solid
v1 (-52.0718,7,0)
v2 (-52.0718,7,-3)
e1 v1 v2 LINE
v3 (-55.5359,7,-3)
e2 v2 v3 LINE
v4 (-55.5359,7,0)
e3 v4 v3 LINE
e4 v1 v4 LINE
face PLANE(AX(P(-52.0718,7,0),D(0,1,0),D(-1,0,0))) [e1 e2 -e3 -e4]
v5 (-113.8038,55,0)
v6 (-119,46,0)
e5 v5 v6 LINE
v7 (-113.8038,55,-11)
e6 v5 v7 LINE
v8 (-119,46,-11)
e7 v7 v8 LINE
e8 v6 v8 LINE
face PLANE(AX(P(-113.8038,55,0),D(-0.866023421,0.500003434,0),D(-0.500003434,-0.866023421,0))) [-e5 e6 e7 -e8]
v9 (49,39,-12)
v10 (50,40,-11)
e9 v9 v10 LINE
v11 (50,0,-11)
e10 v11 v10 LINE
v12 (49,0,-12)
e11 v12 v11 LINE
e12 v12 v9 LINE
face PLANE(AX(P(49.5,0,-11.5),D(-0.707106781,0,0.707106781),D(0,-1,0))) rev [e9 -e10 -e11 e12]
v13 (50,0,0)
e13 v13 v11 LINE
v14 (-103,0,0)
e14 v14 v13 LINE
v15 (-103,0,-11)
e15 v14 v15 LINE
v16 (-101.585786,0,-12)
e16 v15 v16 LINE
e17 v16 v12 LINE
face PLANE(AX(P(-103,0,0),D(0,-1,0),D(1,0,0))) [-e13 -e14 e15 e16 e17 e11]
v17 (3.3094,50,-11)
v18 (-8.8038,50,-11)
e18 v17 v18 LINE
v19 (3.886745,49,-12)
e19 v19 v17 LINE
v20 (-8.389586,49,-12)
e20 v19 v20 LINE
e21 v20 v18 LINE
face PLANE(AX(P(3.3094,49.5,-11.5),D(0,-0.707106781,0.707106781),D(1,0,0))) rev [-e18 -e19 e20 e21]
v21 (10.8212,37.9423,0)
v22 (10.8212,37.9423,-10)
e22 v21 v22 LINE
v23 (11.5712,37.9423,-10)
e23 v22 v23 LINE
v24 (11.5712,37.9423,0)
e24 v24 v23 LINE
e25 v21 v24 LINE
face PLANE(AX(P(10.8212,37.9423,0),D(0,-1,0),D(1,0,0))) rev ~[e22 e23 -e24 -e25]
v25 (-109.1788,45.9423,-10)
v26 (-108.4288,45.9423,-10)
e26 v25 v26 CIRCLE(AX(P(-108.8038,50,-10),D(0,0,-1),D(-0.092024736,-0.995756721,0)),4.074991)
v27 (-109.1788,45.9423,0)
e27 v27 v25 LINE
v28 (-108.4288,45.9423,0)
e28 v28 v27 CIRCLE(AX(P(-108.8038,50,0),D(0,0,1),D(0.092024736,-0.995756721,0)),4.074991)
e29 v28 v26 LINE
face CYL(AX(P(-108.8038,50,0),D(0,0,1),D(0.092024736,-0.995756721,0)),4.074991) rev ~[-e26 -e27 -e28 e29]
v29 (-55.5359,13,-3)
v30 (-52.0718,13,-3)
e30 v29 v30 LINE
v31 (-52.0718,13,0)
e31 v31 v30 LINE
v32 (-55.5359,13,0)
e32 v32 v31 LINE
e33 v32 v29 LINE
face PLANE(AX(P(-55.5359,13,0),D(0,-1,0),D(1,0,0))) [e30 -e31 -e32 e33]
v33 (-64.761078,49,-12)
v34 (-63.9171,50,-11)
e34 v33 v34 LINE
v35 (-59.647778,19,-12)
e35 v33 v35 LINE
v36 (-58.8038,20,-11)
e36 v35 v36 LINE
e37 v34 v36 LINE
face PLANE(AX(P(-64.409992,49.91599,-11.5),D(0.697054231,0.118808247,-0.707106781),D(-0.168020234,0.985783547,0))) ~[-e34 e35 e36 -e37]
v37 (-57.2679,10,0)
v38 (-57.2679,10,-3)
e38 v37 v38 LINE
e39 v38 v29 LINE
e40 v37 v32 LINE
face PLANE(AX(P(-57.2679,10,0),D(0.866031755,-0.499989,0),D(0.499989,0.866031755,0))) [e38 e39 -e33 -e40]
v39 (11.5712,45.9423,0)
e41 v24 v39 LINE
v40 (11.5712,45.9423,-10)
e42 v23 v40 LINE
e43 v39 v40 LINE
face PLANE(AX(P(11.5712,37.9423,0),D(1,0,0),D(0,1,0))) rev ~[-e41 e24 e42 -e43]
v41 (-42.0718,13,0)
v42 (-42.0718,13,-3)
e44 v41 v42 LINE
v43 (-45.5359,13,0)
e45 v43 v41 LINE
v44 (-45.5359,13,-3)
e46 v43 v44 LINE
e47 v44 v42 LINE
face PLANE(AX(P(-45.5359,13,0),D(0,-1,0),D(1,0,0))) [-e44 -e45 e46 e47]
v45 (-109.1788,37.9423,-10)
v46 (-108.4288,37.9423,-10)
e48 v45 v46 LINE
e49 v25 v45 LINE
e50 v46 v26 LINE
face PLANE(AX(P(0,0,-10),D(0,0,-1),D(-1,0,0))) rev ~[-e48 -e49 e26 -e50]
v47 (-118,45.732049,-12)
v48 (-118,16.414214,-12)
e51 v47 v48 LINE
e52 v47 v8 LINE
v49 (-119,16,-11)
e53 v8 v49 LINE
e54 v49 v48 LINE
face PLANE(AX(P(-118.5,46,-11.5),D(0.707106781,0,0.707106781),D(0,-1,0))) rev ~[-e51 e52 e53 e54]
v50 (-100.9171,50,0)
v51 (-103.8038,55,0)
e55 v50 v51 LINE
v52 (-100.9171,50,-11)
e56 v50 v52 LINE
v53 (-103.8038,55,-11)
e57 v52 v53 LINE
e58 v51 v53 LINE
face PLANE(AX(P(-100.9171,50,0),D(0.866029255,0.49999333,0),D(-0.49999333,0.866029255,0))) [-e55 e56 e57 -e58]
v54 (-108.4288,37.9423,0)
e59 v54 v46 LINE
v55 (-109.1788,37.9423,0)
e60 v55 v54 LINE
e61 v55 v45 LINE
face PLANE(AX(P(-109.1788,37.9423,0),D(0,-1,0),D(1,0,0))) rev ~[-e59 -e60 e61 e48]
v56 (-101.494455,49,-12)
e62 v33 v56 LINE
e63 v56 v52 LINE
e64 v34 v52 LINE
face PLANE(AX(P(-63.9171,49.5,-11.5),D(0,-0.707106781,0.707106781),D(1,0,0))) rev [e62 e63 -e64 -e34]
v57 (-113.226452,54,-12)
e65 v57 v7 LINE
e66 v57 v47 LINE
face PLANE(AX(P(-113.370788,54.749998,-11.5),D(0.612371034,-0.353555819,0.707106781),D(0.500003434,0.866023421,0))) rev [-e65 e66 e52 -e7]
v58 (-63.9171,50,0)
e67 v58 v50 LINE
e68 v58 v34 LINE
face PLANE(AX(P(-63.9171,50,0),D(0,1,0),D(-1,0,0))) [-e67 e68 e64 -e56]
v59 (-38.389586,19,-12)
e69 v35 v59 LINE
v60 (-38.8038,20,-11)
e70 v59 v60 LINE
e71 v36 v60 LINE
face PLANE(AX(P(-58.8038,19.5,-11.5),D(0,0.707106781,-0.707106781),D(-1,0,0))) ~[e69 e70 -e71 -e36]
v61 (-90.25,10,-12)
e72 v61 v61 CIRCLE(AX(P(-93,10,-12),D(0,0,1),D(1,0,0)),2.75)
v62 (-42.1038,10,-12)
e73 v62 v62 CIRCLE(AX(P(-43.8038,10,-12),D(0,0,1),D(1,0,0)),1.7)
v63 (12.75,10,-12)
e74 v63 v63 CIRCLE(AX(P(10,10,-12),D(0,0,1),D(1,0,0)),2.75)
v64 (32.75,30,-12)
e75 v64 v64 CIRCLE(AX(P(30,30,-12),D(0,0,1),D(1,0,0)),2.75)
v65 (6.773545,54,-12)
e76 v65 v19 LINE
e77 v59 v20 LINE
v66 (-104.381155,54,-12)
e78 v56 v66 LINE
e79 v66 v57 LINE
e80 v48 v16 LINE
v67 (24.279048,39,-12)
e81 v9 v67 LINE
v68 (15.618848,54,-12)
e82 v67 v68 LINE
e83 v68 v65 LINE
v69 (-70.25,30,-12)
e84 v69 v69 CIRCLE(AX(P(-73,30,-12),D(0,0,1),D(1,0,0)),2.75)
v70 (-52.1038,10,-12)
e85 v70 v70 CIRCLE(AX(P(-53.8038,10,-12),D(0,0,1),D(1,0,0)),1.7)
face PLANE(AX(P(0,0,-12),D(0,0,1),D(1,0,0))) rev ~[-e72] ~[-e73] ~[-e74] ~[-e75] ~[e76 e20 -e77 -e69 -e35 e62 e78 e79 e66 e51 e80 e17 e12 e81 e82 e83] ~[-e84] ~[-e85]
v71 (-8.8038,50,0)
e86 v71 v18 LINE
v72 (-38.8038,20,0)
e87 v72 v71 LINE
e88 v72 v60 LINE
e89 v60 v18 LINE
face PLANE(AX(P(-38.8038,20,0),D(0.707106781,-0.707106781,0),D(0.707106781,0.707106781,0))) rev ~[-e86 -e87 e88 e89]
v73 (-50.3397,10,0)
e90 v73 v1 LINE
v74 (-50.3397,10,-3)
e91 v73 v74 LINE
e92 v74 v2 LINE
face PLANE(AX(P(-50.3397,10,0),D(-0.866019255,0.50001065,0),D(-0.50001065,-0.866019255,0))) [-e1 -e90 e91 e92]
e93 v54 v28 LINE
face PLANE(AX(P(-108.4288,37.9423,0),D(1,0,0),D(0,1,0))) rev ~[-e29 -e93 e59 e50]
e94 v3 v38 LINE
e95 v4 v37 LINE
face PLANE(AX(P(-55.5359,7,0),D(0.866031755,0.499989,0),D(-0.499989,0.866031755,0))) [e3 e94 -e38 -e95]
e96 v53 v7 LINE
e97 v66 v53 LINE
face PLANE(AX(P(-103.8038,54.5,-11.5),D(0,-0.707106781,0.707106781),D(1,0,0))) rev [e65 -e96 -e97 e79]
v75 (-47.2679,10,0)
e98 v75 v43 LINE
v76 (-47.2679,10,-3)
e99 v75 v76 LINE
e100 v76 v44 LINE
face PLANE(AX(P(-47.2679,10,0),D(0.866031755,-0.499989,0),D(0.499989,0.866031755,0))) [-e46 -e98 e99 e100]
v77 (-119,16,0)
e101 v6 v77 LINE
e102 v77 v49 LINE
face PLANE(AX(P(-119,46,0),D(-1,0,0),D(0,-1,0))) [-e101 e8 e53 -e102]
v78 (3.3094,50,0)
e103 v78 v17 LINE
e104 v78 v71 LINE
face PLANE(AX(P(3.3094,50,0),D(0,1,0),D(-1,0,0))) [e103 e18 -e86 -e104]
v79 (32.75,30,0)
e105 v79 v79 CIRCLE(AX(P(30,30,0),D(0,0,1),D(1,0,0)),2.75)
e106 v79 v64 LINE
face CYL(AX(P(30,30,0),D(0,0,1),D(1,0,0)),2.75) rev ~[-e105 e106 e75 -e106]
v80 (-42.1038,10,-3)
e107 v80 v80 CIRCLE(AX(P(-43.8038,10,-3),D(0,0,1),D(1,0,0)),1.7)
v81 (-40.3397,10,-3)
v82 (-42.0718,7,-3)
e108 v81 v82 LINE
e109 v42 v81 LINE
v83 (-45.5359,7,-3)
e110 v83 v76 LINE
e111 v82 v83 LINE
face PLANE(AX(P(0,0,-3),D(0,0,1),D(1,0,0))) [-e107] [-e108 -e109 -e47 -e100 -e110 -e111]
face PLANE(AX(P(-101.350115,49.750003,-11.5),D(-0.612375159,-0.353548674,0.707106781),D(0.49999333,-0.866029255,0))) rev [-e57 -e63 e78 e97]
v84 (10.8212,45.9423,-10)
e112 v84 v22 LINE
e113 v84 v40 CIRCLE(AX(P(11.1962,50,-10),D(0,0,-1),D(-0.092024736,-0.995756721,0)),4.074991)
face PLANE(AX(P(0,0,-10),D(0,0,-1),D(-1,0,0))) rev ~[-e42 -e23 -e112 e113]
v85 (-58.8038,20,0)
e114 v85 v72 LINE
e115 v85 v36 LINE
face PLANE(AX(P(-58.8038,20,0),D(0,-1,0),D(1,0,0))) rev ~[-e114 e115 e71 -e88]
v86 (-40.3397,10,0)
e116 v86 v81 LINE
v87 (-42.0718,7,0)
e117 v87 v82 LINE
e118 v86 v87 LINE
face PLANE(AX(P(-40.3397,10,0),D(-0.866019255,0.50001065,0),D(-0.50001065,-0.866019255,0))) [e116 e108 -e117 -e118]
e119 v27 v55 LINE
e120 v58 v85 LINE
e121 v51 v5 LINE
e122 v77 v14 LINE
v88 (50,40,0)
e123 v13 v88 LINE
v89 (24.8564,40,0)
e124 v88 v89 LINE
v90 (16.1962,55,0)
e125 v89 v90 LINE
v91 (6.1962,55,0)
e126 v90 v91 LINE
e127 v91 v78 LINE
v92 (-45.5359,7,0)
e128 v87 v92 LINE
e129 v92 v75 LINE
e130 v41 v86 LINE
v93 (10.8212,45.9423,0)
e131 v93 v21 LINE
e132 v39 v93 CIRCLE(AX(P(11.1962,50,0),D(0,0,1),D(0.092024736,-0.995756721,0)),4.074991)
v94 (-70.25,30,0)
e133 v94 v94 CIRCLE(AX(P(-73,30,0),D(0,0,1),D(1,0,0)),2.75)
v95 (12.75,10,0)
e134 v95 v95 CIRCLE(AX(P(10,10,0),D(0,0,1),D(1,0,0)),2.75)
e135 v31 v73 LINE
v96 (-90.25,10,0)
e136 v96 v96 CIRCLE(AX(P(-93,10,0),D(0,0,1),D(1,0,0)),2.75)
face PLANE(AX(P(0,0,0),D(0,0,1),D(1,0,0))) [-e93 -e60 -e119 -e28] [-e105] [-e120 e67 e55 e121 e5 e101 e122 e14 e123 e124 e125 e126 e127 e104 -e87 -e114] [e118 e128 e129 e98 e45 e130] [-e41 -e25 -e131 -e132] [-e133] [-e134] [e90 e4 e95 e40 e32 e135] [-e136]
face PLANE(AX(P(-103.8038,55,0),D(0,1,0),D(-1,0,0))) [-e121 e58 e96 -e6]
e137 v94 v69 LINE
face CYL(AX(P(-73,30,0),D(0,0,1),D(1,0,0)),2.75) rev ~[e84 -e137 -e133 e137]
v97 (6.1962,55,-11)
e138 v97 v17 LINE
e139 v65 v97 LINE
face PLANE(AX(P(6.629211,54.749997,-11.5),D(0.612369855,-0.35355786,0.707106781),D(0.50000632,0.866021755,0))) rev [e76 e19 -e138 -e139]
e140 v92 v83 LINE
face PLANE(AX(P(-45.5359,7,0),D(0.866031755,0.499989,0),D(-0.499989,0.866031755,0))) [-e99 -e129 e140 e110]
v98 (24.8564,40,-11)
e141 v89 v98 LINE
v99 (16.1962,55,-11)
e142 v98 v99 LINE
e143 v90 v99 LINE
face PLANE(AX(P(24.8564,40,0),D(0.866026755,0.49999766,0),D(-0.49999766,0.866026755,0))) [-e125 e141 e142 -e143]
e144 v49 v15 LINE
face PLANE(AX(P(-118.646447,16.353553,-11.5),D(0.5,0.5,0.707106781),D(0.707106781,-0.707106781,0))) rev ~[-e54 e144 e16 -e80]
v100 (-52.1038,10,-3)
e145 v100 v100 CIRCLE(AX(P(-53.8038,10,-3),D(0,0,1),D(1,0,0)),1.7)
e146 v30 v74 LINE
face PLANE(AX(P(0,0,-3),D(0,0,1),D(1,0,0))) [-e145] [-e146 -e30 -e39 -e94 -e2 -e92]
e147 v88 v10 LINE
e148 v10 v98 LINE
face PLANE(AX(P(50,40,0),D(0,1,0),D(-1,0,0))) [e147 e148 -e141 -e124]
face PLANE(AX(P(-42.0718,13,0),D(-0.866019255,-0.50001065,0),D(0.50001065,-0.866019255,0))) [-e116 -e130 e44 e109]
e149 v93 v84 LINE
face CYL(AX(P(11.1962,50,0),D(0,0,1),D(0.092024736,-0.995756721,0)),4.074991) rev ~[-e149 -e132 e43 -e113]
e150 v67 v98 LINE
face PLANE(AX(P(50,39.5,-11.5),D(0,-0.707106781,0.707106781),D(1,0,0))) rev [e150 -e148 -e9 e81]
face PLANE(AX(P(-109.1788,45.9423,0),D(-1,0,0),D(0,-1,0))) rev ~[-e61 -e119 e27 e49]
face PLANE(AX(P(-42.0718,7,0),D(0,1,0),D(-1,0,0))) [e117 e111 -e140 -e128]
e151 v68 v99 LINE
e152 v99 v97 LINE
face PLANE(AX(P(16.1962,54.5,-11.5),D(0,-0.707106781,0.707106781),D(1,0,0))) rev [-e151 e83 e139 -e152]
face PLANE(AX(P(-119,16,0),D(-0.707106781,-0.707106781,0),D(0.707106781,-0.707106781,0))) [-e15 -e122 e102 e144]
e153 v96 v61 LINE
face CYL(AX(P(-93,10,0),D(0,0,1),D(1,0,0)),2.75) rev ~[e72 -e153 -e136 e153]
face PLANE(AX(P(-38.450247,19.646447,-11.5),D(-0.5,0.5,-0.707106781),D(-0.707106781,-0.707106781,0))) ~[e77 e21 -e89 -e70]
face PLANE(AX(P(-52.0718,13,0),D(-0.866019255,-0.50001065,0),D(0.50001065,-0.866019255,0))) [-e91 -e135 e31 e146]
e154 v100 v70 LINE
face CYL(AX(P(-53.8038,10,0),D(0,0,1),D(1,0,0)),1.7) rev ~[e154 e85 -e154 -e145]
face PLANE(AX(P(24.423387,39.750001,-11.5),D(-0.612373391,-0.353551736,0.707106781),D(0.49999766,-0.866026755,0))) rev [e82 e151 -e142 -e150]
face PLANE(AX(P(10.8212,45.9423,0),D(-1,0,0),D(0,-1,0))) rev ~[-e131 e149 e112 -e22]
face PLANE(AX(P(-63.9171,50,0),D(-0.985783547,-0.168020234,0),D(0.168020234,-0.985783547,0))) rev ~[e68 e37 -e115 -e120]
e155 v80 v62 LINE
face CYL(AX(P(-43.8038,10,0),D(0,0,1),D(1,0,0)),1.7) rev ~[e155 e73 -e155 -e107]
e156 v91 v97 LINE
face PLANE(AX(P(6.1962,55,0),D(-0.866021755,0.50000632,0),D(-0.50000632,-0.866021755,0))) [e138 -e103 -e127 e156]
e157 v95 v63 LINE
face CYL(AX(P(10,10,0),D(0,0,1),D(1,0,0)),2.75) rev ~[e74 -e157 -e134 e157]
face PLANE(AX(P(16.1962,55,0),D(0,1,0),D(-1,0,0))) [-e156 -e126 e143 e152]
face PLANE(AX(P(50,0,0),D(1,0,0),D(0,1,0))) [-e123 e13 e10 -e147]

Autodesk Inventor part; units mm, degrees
ref_plane "YZ Plane" through (0, 0, 0) normal (1, 0, 0) x (0, 1, 0)
ref_plane "XZ Plane" through (0, 0, 0) normal (0, 1, 0) x (-1, 0, 0)
ref_plane "XY Plane" through (0, 0, 0) normal (0, 0, 1) x (1, 0, 0)
sketch "v_slot_locations" plane through (0, 0, 0) normal (0, 0, 1) x (1, 0, 0)
  circle A0 centre (10, 10) radius 2.3 construction
  line L0 (13.9, 12.8393) -> (13.9, 7.1607) construction
  line L1 (12.8393, 13.9) -> (13.9, 12.8393) construction
  line L2 (7.1607, 13.9) -> (12.8393, 13.9) construction
  line L3 (3.7607, 17.3) -> (7.1607, 13.9) construction
  line L4 (1.8, 17.3) -> (3.7607, 17.3) construction
  line L5 (1.8, 22.7) -> (1.8, 17.3) construction
  line L6 (17.3, 1.8) -> (22.7, 1.8) construction
  line L7 (17.3, 3.7607) -> (17.3, 1.8) construction
  line L8 (13.9, 7.1607) -> (17.3, 3.7607) construction
  line L9 (0, 14.58) -> (0, 25.42) construction
  line L10 (1.185, 13.395) -> (0, 14.58) construction
  line L11 (1.8, 13.395) -> (1.185, 13.395) construction
  line L12 (1.8, 15.5) -> (1.8, 13.395) construction
  line L13 (3.4393, 15.5) -> (1.8, 15.5) construction
  line L14 (6.1, 12.8393) -> (3.4393, 15.5) construction
  line L15 (6.1, 10.21) -> (6.1, 12.8393) construction
  line L16 (6.31, 10) -> (6.1, 10.21) construction
  line L17 (6.1, 9.79) -> (6.31, 10) construction
  line L18 (6.1, 7.1607) -> (6.1, 9.79) construction
  line L19 (3.4393, 4.5) -> (6.1, 7.1607) construction
  line L20 (1.8, 4.5) -> (3.4393, 4.5) construction
  line L21 (1.8, 6.605) -> (1.8, 4.5) construction
  line L22 (1.185, 6.605) -> (1.8, 6.605) construction
  line L23 (0, 5.42) -> (1.185, 6.605) construction
  line L24 (0, 1.5) -> (0, 5.42) construction
  arc A1 (0, 1.5) -> (1.5, 0) centre (1.5, 1.5) ccw construction
  line L25 (5.42, 0) -> (1.5, 0) construction
  line L26 (6.605, 1.185) -> (5.42, 0) construction
  line L27 (6.605, 1.8) -> (6.605, 1.185) construction
  line L28 (4.5, 1.8) -> (6.605, 1.8) construction
  line L29 (4.5, 3.4393) -> (4.5, 1.8) construction
  line L30 (7.1607, 6.1) -> (4.5, 3.4393) construction
  line L31 (9.79, 6.1) -> (7.1607, 6.1) construction
  line L32 (10, 6.31) -> (9.79, 6.1) construction
  line L33 (10.21, 6.1) -> (10, 6.31) construction
  line L34 (12.8393, 6.1) -> (10.21, 6.1) construction
  line L35 (15.5, 3.4393) -> (12.8393, 6.1) construction
  line L36 (15.5, 1.8) -> (15.5, 3.4393) construction
  line L37 (13.395, 1.8) -> (15.5, 1.8) construction
  line L38 (13.395, 1.185) -> (13.395, 1.8) construction
  line L39 (14.58, 0) -> (13.395, 1.185) construction
  line L40 (25.42, 0) -> (14.58, 0) construction
  line L41 (0, 1.5) -> (0, 0) construction
  line L42 (0, 0) -> (1.5, 0) construction
  line L43 (0, 20) -> (40, 20) construction
  line L44 (20, 0) -> (20, 40) construction
  line L45 (33.9, 10.21) -> (33.9, 12.8393) construction
  line L46 (32.8393, 13.9) -> (27.1607, 13.9) construction
  line L47 (33.69, 10) -> (33.9, 10.21) construction
  line L48 (33.9, 9.79) -> (33.69, 10) construction
  line L49 (27.1607, 13.9) -> (26.1, 12.8393) construction
  line L50 (33.9, 7.1607) -> (33.9, 9.79) construction
  circle A2 centre (30, 10) radius 2.3 construction
  line L51 (30.21, 6.1) -> (32.8393, 6.1) construction
  line L52 (26.1, 12.8393) -> (26.1, 7.1607) construction
  line L53 (30, 6.31) -> (30.21, 6.1) construction
  line L54 (29.79, 6.1) -> (30, 6.31) construction
  line L55 (27.1607, 6.1) -> (29.79, 6.1) construction
  line L56 (33.9, 12.8393) -> (36.5607, 15.5) construction
  line L57 (38.2, 13.395) -> (38.815, 13.395) construction
  line L58 (36.2393, 17.3) -> (32.8393, 13.9) construction
  line L59 (38.2, 15.5) -> (38.2, 13.395) construction
  line L60 (38.815, 13.395) -> (40, 14.58) construction
  line L61 (38.2, 17.3) -> (36.2393, 17.3) construction
  line L62 (38.2, 22.7) -> (38.2, 17.3) construction
  line L63 (40, 14.58) -> (40, 25.42) construction
  line L64 (36.5607, 15.5) -> (38.2, 15.5) construction
  line L65 (38.815, 6.605) -> (38.2, 6.605) construction
  line L66 (40, 5.42) -> (38.815, 6.605) construction
  line L67 (36.5607, 4.5) -> (33.9, 7.1607) construction
  line L68 (38.2, 6.605) -> (38.2, 4.5) construction
  line L69 (38.2, 4.5) -> (36.5607, 4.5) construction
  line L70 (32.8393, 6.1) -> (35.5, 3.4393) construction
  line L71 (40, 1.5) -> (40, 5.42) construction
  line L72 (35.5, 3.4393) -> (35.5, 1.8) construction
  line L73 (35.5, 1.8) -> (33.395, 1.8) construction
  line L74 (33.395, 1.8) -> (33.395, 1.185) construction
  line L75 (33.395, 1.185) -> (34.58, 0) construction
  line L76 (34.58, 0) -> (38.5, 0) construction
  arc A3 (38.5, 0) -> (40, 1.5) centre (38.5, 1.5) ccw construction
  line L77 (22.7, 3.7607) -> (22.7, 1.8) construction
  line L78 (26.1, 7.1607) -> (22.7, 3.7607) construction
  line L79 (25.42, 0) -> (26.605, 1.185) construction
  line L80 (24.5, 3.4393) -> (27.1607, 6.1) construction
  line L81 (24.5, 1.8) -> (24.5, 3.4393) construction
  line L82 (26.605, 1.8) -> (24.5, 1.8) construction
  line L83 (26.605, 1.185) -> (26.605, 1.8) construction
  line L84 (6.1, 29.79) -> (6.1, 27.1607) construction
  line L85 (7.1607, 26.1) -> (12.8393, 26.1) construction
  line L86 (6.31, 30) -> (6.1, 29.79) construction
  line L87 (6.1, 30.21) -> (6.31, 30) construction
  line L88 (12.8393, 26.1) -> (13.9, 27.1607) construction
  line L89 (6.1, 32.8393) -> (6.1, 30.21) construction
  circle A4 centre (10, 30) radius 2.3 construction
  line L90 (9.79, 33.9) -> (7.1607, 33.9) construction
  line L91 (13.9, 27.1607) -> (13.9, 32.8393) construction
  line L92 (10, 33.69) -> (9.79, 33.9) construction
  line L93 (10.21, 33.9) -> (10, 33.69) construction
  line L94 (12.8393, 33.9) -> (10.21, 33.9) construction
  line L95 (6.1, 27.1607) -> (3.4393, 24.5) construction
  line L96 (1.8, 26.605) -> (1.185, 26.605) construction
  line L97 (3.7607, 22.7) -> (7.1607, 26.1) construction
  line L98 (1.8, 24.5) -> (1.8, 26.605) construction
  line L99 (1.185, 26.605) -> (0, 25.42) construction
  line L100 (1.8, 22.7) -> (3.7607, 22.7) construction
  line L101 (3.4393, 24.5) -> (1.8, 24.5) construction
  line L102 (1.185, 33.395) -> (1.8, 33.395) construction
  line L103 (0, 34.58) -> (1.185, 33.395) construction
  line L104 (3.4393, 35.5) -> (6.1, 32.8393) construction
  line L105 (1.8, 33.395) -> (1.8, 35.5) construction
  line L106 (1.8, 35.5) -> (3.4393, 35.5) construction
  line L107 (7.1607, 33.9) -> (4.5, 36.5607) construction
  line L108 (0, 38.5) -> (0, 34.58) construction
  line L109 (4.5, 36.5607) -> (4.5, 38.2) construction
  line L110 (4.5, 38.2) -> (6.605, 38.2) construction
  line L111 (6.605, 38.2) -> (6.605, 38.815) construction
  line L112 (6.605, 38.815) -> (5.42, 40) construction
  line L113 (5.42, 40) -> (1.5, 40) construction
  arc A5 (1.5, 40) -> (0, 38.5) centre (1.5, 38.5) ccw construction
  line L114 (17.3, 38.2) -> (22.7, 38.2) construction
  line L115 (17.3, 36.2393) -> (17.3, 38.2) construction
  line L116 (13.9, 32.8393) -> (17.3, 36.2393) construction
  line L117 (14.58, 40) -> (13.395, 38.815) construction
  line L118 (15.5, 36.5607) -> (12.8393, 33.9) construction
  line L119 (15.5, 38.2) -> (15.5, 36.5607) construction
  line L120 (13.395, 38.2) -> (15.5, 38.2) construction
  line L121 (25.42, 40) -> (14.58, 40) construction
  line L122 (13.395, 38.815) -> (13.395, 38.2) construction
  line L123 (38.815, 26.605) -> (40, 25.42) construction
  line L124 (38.2, 26.605) -> (38.815, 26.605) construction
  line L125 (38.2, 24.5) -> (38.2, 26.605) construction
  line L126 (36.5607, 24.5) -> (38.2, 24.5) construction
  line L127 (38.2, 22.7) -> (36.2393, 22.7) construction
  line L128 (36.2393, 22.7) -> (32.8393, 26.1) construction
  line L129 (33.9, 27.1607) -> (36.5607, 24.5) construction
  line L130 (33.9, 29.79) -> (33.9, 27.1607) construction
  line L131 (32.8393, 26.1) -> (27.1607, 26.1) construction
  circle A6 centre (30, 30) radius 2.3 construction
  line L132 (33.9, 30.21) -> (33.69, 30) construction
  line L133 (33.69, 30) -> (33.9, 29.79) construction
  line L134 (33.9, 32.8393) -> (33.9, 30.21) construction
  line L135 (38.815, 33.395) -> (38.2, 33.395) construction
  line L136 (40, 34.58) -> (38.815, 33.395) construction
  line L137 (40, 38.5) -> (40, 34.58) construction
  line L138 (38.2, 33.395) -> (38.2, 35.5) construction
  line L139 (38.2, 35.5) -> (36.5607, 35.5) construction
  arc A7 (40, 38.5) -> (38.5, 40) centre (38.5, 38.5) ccw construction
  line L140 (34.58, 40) -> (38.5, 40) construction
  line L141 (33.395, 38.815) -> (34.58, 40) construction
  line L142 (33.395, 38.2) -> (33.395, 38.815) construction
  line L143 (35.5, 38.2) -> (33.395, 38.2) construction
  line L144 (35.5, 36.5607) -> (35.5, 38.2) construction
  line L145 (32.8393, 33.9) -> (35.5, 36.5607) construction
  line L146 (36.5607, 35.5) -> (33.9, 32.8393) construction
  line L147 (30.21, 33.9) -> (32.8393, 33.9) construction
  line L148 (29.79, 33.9) -> (30, 33.69) construction
  line L149 (30, 33.69) -> (30.21, 33.9) construction
  line L150 (27.1607, 33.9) -> (29.79, 33.9) construction
  line L151 (24.5, 36.5607) -> (27.1607, 33.9) construction
  line L152 (26.605, 38.815) -> (26.605, 38.2) construction
  line L153 (25.42, 40) -> (26.605, 38.815) construction
  line L154 (26.605, 38.2) -> (24.5, 38.2) construction
  line L155 (24.5, 38.2) -> (24.5, 36.5607) construction
  line L156 (22.7, 36.2393) -> (22.7, 38.2) construction
  line L157 (26.1, 32.8393) -> (22.7, 36.2393) construction
  line L158 (26.1, 27.1607) -> (26.1, 32.8393) construction
  line L159 (27.1607, 26.1) -> (26.1, 27.1607) construction
  line L160 (-96.9, 10.21) -> (-96.9, 12.8393) construction
  line L161 (-95.8393, 13.9) -> (-90.1607, 13.9) construction
  line L162 (-96.69, 10) -> (-96.9, 10.21) construction
  line L163 (-96.9, 9.79) -> (-96.69, 10) construction
  line L164 (-90.1607, 13.9) -> (-89.1, 12.8393) construction
  line L165 (-96.9, 7.1607) -> (-96.9, 9.79) construction
  circle A8 centre (-93, 10) radius 2.3 construction
  line L166 (-93.21, 6.1) -> (-95.8393, 6.1) construction
  line L167 (-89.1, 12.8393) -> (-89.1, 7.1607) construction
  line L168 (-93, 6.31) -> (-93.21, 6.1) construction
  line L169 (-92.79, 6.1) -> (-93, 6.31) construction
  line L170 (-90.1607, 6.1) -> (-92.79, 6.1) construction
  line L171 (-96.9, 12.8393) -> (-99.5607, 15.5) construction
  line L172 (-101.2, 13.395) -> (-101.815, 13.395) construction
  line L173 (-99.2393, 17.3) -> (-95.8393, 13.9) construction
  line L174 (-101.2, 15.5) -> (-101.2, 13.395) construction
  line L175 (-101.815, 13.395) -> (-103, 14.58) construction
  line L176 (-101.2, 17.3) -> (-99.2393, 17.3) construction
  line L177 (-101.2, 22.7) -> (-101.2, 17.3) construction
  line L178 (-103, 14.58) -> (-103, 25.42) construction
  line L179 (-99.5607, 15.5) -> (-101.2, 15.5) construction
  line L180 (-101.815, 6.605) -> (-101.2, 6.605) construction
  line L181 (-103, 5.42) -> (-101.815, 6.605) construction
  line L182 (-99.5607, 4.5) -> (-96.9, 7.1607) construction
  line L183 (-101.2, 6.605) -> (-101.2, 4.5) construction
  line L184 (-101.2, 4.5) -> (-99.5607, 4.5) construction
  line L185 (-95.8393, 6.1) -> (-98.5, 3.4393) construction
  line L186 (-103, 1.5) -> (-103, 5.42) construction
  line L187 (-98.5, 3.4393) -> (-98.5, 1.8) construction
  line L188 (-98.5, 1.8) -> (-96.395, 1.8) construction
  line L189 (-96.395, 1.8) -> (-96.395, 1.185) construction
  line L190 (-96.395, 1.185) -> (-97.58, 0) construction
  line L191 (-97.58, 0) -> (-101.5, 0) construction
  arc A9 (-103, 1.5) -> (-101.5, 0) centre (-101.5, 1.5) ccw construction
  line L192 (-85.7, 1.8) -> (-80.3, 1.8) construction
  line L193 (-85.7, 3.7607) -> (-85.7, 1.8) construction
  line L194 (-89.1, 7.1607) -> (-85.7, 3.7607) construction
  line L195 (-88.42, 0) -> (-89.605, 1.185) construction
  line L196 (-87.5, 3.4393) -> (-90.1607, 6.1) construction
  line L197 (-87.5, 1.8) -> (-87.5, 3.4393) construction
  line L198 (-89.605, 1.8) -> (-87.5, 1.8) construction
  line L199 (-77.58, 0) -> (-88.42, 0) construction
  line L200 (-89.605, 1.185) -> (-89.605, 1.8) construction
  line L201 (-103, 1.5) -> (-103, 0) construction
  line L202 (-103, 0) -> (-101.5, 0) construction
  line L203 (-103, 20) -> (-63, 20) construction
  line L204 (-83, 0) -> (-83, 40) construction
  line L205 (-64.185, 13.395) -> (-63, 14.58) construction
  line L206 (-64.8, 13.395) -> (-64.185, 13.395) construction
  line L207 (-64.8, 15.5) -> (-64.8, 13.395) construction
  line L208 (-66.4393, 15.5) -> (-64.8, 15.5) construction
  line L209 (-64.8, 17.3) -> (-66.7607, 17.3) construction
  line L210 (-66.7607, 17.3) -> (-70.1607, 13.9) construction
  line L211 (-69.1, 12.8393) -> (-66.4393, 15.5) construction
  line L212 (-69.1, 10.21) -> (-69.1, 12.8393) construction
  line L213 (-70.1607, 13.9) -> (-75.8393, 13.9) construction
  circle A10 centre (-73, 10) radius 2.3 construction
  line L214 (-69.1, 9.79) -> (-69.31, 10) construction
  line L215 (-69.31, 10) -> (-69.1, 10.21) construction
  line L216 (-69.1, 7.1607) -> (-69.1, 9.79) construction
  line L217 (-64.185, 6.605) -> (-64.8, 6.605) construction
  line L218 (-63, 5.42) -> (-64.185, 6.605) construction
  line L219 (-63, 1.5) -> (-63, 5.42) construction
  line L220 (-64.8, 6.605) -> (-64.8, 4.5) construction
  line L221 (-64.8, 4.5) -> (-66.4393, 4.5) construction
  arc A11 (-64.5, 0) -> (-63, 1.5) centre (-64.5, 1.5) ccw construction
  line L222 (-68.42, 0) -> (-64.5, 0) construction
  line L223 (-69.605, 1.185) -> (-68.42, 0) construction
  line L224 (-69.605, 1.8) -> (-69.605, 1.185) construction
  line L225 (-67.5, 1.8) -> (-69.605, 1.8) construction
  line L226 (-67.5, 3.4393) -> (-67.5, 1.8) construction
  line L227 (-70.1607, 6.1) -> (-67.5, 3.4393) construction
  line L228 (-66.4393, 4.5) -> (-69.1, 7.1607) construction
  line L229 (-72.79, 6.1) -> (-70.1607, 6.1) construction
  line L230 (-73.21, 6.1) -> (-73, 6.31) construction
  line L231 (-73, 6.31) -> (-72.79, 6.1) construction
  line L232 (-75.8393, 6.1) -> (-73.21, 6.1) construction
  line L233 (-78.5, 3.4393) -> (-75.8393, 6.1) construction
  line L234 (-76.395, 1.185) -> (-76.395, 1.8) construction
  line L235 (-77.58, 0) -> (-76.395, 1.185) construction
  line L236 (-76.395, 1.8) -> (-78.5, 1.8) construction
  line L237 (-78.5, 1.8) -> (-78.5, 3.4393) construction
  line L238 (-80.3, 3.7607) -> (-80.3, 1.8) construction
  line L239 (-76.9, 7.1607) -> (-80.3, 3.7607) construction
  line L240 (-76.9, 12.8393) -> (-76.9, 7.1607) construction
  line L241 (-75.8393, 13.9) -> (-76.9, 12.8393) construction
  line L242 (-63, 14.58) -> (-63, 25.42) construction
  line L243 (-64.8, 22.7) -> (-64.8, 17.3) construction
  line L244 (-80.3, 36.2393) -> (-80.3, 38.2) construction
  line L245 (-78.5, 38.2) -> (-78.5, 36.5607) construction
  line L246 (-77.58, 40) -> (-76.395, 38.815) construction
  line L247 (-76.395, 38.815) -> (-76.395, 38.2) construction
  line L248 (-76.395, 38.2) -> (-78.5, 38.2) construction
  line L249 (-76.9, 32.8393) -> (-80.3, 36.2393) construction
  line L250 (-78.5, 36.5607) -> (-75.8393, 33.9) construction
  line L251 (-70.1607, 26.1) -> (-75.8393, 26.1) construction
  circle A12 centre (-73, 30) radius 2.3 construction
  line L252 (-72.79, 33.9) -> (-70.1607, 33.9) construction
  line L253 (-73, 33.69) -> (-72.79, 33.9) construction
  line L254 (-73.21, 33.9) -> (-73, 33.69) construction
  line L255 (-75.8393, 33.9) -> (-73.21, 33.9) construction
  line L256 (-76.9, 27.1607) -> (-76.9, 32.8393) construction
  line L257 (-75.8393, 26.1) -> (-76.9, 27.1607) construction
  line L258 (-63, 38.5) -> (-63, 34.58) construction
  line L259 (-67.5, 36.5607) -> (-67.5, 38.2) construction
  line L260 (-67.5, 38.2) -> (-69.605, 38.2) construction
  line L261 (-69.605, 38.2) -> (-69.605, 38.815) construction
  arc A13 (-63, 38.5) -> (-64.5, 40) centre (-64.5, 38.5) ccw construction
  line L262 (-68.42, 40) -> (-64.5, 40) construction
  line L263 (-69.605, 38.815) -> (-68.42, 40) construction
  line L264 (-69.1, 32.8393) -> (-69.1, 30.21) construction
  line L265 (-64.185, 33.395) -> (-64.8, 33.395) construction
  line L266 (-63, 34.58) -> (-64.185, 33.395) construction
  line L267 (-66.4393, 35.5) -> (-69.1, 32.8393) construction
  line L268 (-64.8, 35.5) -> (-66.4393, 35.5) construction
  line L269 (-64.8, 33.395) -> (-64.8, 35.5) construction
  line L270 (-70.1607, 33.9) -> (-67.5, 36.5607) construction
  line L271 (-64.8, 22.7) -> (-66.7607, 22.7) construction
  line L272 (-66.7607, 22.7) -> (-70.1607, 26.1) construction
  line L273 (-69.31, 30) -> (-69.1, 29.79) construction
  line L274 (-69.1, 30.21) -> (-69.31, 30) construction
  line L275 (-69.1, 29.79) -> (-69.1, 27.1607) construction
  line L276 (-69.1, 27.1607) -> (-66.4393, 24.5) construction
  line L277 (-66.4393, 24.5) -> (-64.8, 24.5) construction
  line L278 (-64.8, 24.5) -> (-64.8, 26.605) construction
  line L279 (-64.185, 26.605) -> (-63, 25.42) construction
  line L280 (-64.8, 26.605) -> (-64.185, 26.605) construction
  line L281 (-95.8393, 26.1) -> (-90.1607, 26.1) construction
  line L282 (-90.1607, 26.1) -> (-89.1, 27.1607) construction
  line L283 (-96.9, 29.79) -> (-96.9, 27.1607) construction
  line L284 (-96.69, 30) -> (-96.9, 29.79) construction
  circle A14 centre (-93, 30) radius 2.3 construction
  line L285 (-89.1, 27.1607) -> (-89.1, 32.8393) construction
  line L286 (-92.79, 33.9) -> (-93, 33.69) construction
  line L287 (-90.1607, 33.9) -> (-92.79, 33.9) construction
  line L288 (-96.9, 30.21) -> (-96.69, 30) construction
  line L289 (-93, 33.69) -> (-93.21, 33.9) construction
  line L290 (-96.9, 32.8393) -> (-96.9, 30.21) construction
  line L291 (-96.9, 27.1607) -> (-99.5607, 24.5) construction
  line L292 (-99.2393, 22.7) -> (-95.8393, 26.1) construction
  line L293 (-87.5, 36.5607) -> (-90.1607, 33.9) construction
  line L294 (-89.1, 32.8393) -> (-85.7, 36.2393) construction
  line L295 (-98.5, 38.2) -> (-96.395, 38.2) construction
  line L296 (-96.395, 38.2) -> (-96.395, 38.815) construction
  line L297 (-96.395, 38.815) -> (-97.58, 40) construction
  line L298 (-101.2, 35.5) -> (-99.5607, 35.5) construction
  line L299 (-98.5, 36.5607) -> (-98.5, 38.2) construction
  line L300 (-97.58, 40) -> (-101.5, 40) construction
  line L301 (-101.2, 33.395) -> (-101.2, 35.5) construction
  line L302 (-103, 34.58) -> (-101.815, 33.395) construction
  line L303 (-101.815, 33.395) -> (-101.2, 33.395) construction
  line L304 (-95.8393, 33.9) -> (-98.5, 36.5607) construction
  line L305 (-99.5607, 35.5) -> (-96.9, 32.8393) construction
  line L306 (-93.21, 33.9) -> (-95.8393, 33.9) construction
  line L307 (-103, 38.5) -> (-103, 34.58) construction
  arc A15 (-101.5, 40) -> (-103, 38.5) centre (-101.5, 38.5) ccw construction
  line L308 (-89.605, 38.815) -> (-89.605, 38.2) construction
  line L309 (-88.42, 40) -> (-89.605, 38.815) construction
  line L310 (-89.605, 38.2) -> (-87.5, 38.2) construction
  line L311 (-87.5, 38.2) -> (-87.5, 36.5607) construction
  line L312 (-77.58, 40) -> (-88.42, 40) construction
  line L313 (-85.7, 36.2393) -> (-85.7, 38.2) construction
  line L314 (-85.7, 38.2) -> (-80.3, 38.2) construction
  line L315 (-101.2, 26.605) -> (-101.815, 26.605) construction
  line L316 (-101.815, 26.605) -> (-103, 25.42) construction
  line L317 (-101.2, 24.5) -> (-101.2, 26.605) construction
  line L318 (-99.5607, 24.5) -> (-101.2, 24.5) construction
  line L319 (-101.2, 22.7) -> (-99.2393, 22.7) construction
  point P0 (0, 0)
  dimension "d3" = 1.5
  dimension "d4" = 4.6
  dimension "d5" = 1.5
  dimension "d7" = 45
  dimension "d8" = 2.105
  dimension "d9" = 1.6393
  dimension "d10" = 1.185
  dimension "d11" = 45
  dimension "d12" = 0.615
  dimension "d13" = 45
  dimension "d16" = 135
  dimension "d17" = 135
  dimension "d18" = 45
  dimension "d19" = 1.5
  dimension "d20" = 2.6293
  dimension "d21" = 2.6293
  dimension "d23" = 45
  dimension "d24" = 2.105
  dimension "d25" = 10.84
  dimension "d26" = 135
  dimension "d27" = 135
  dimension "d28" = 2.6607
  dimension "d29" = 45
  dimension "d30" = 1.185
  dimension "d33" = 0.21
  dimension "d34" = 1.5
  dimension "d35" = 3.9
  dimension "d36" = 3.9
  dimension "d37" = 135
  dimension "d38" = 1.0607
  dimension "d39" = 1.185
  dimension "d40" = 0.615
  dimension "d41" = 1.6393
  dimension "d42" = 1.8
  dimension "d43" = 0.21
  dimension "d44" = 135
  dimension "d45" = 5.4
  dimension "d46" = 1.9607
  dimension "d47" = 1.8
  dimension "d49" = 5.4
  dimension "d50" = 1.8
  dimension "d51" = 40
  dimension "d52" = 40
  dimension "d98" = 13.395
  dimension "d99" = 10
  dimension "d100" = 10
  dimension "d101" = 6.605
  dimension "d102" = 10
  dimension "d103" = 13.395
  dimension "d104" = 1.5
  dimension "d105" = 4.6
  dimension "d106" = 1.5
  dimension "d107" = 45
  dimension "d108" = 2.105
  dimension "d109" = 1.6393
  dimension "d110" = 1.185
  dimension "d111" = 45
  dimension "d112" = 0.615
  dimension "d113" = 45
  dimension "d114" = 135
  dimension "d115" = 135
  dimension "d116" = 45
  dimension "d117" = 1.5
  dimension "d118" = 2.6293
sketch "Sketch2" plane through (0, 0, 0) normal (0, 0, 1) x (1, 0, 0)
  line L0 (-103, 0) -> (50, 0)
  line L1 (50, 0) -> (50, 40)
  line L2 (50, 40) -> (24.8564, 40)
  line L3 (24.8564, 40) -> (16.1962, 55)
  line L4 (16.1962, 55) -> (6.1962, 55)
  line L5 (6.1962, 55) -> (3.3094, 50)
  line L6 (3.3094, 50) -> (-100.9171, 50)
  line L7 (-100.9171, 50) -> (-103.8038, 55)
  line L8 (-103.8038, 55) -> (-113.8038, 55)
  line L9 (-113.8038, 55) -> (-119, 46)
  line L10 (-119, 46) -> (-119, 16)
  line L11 (-119, 16) -> (-103, 0)
  line L12 (-152.8, 0) -> (83.8, 0) projected
  circle A0 centre (-73, 30) radius 2.3 construction
  circle A1 centre (-93, 10) radius 2.3 construction
  circle A2 centre (10, 10) radius 2.3 construction
  circle A3 centre (30, 30) radius 2.3 construction
  arc A4 (-108.4288, 45.9423) -> (-109.1788, 45.9423) centre (-108.8038, 50) ccw
  arc A5 (11.5712, 45.9423) -> (10.8212, 45.9423) centre (11.1962, 50) ccw
  line L13 (-108.8038, 55) -> (-108.8038, 50) construction
  line L14 (11.1962, 55) -> (11.1962, 50) construction
  line L15 (-109.1788, 45.9423) -> (-109.1788, 37.9423)
  line L16 (-109.1788, 37.9423) -> (-108.4288, 37.9423)
  line L17 (-108.4288, 37.9423) -> (-108.4288, 45.9423)
  line L18 (10.8212, 45.9423) -> (10.8212, 37.9423)
  line L19 (10.8212, 37.9423) -> (11.5712, 37.9423)
  line L20 (11.5712, 37.9423) -> (11.5712, 45.9423)
  line L21 (40, 14.58) -> (40, 25.42) construction
  line L22 (25.42, 40) -> (14.58, 40) construction
  line L23 (-103, 1.5) -> (-103, 0) construction
  line L24 (-48.8038, 50) -> (-48.8038, 0) construction
  line L25 (-63.9171, 50) -> (-58.8038, 20)
  line L26 (-58.8038, 20) -> (-38.8038, 20)
  line L27 (-38.8038, 20) -> (-8.8038, 50)
  circle A6 centre (-53.8038, 10) radius 1.7
  circle A7 centre (-43.8038, 10) radius 1.7
  line L28 (-53.8038, 10) -> (-43.8038, 10) construction
  circle A8 centre (-93, 10) radius 2.75
  circle A9 centre (-73, 30) radius 2.75
  circle A10 centre (10, 10) radius 2.75
  circle A11 centre (30, 30) radius 2.75
  point P0 (0, 0)
  dimension "d154" = 5
  dimension "d155" = 8.15
  dimension "d156" = 0.75
  dimension "d157" = 8
  dimension "d160" = 10
  dimension "d161" = 10
  dimension "d162" = 120
  dimension "d163" = 50
  dimension "d164" = 150
  dimension "d165" = 45
  dimension "d166" = 16
  dimension "d167" = 9
  dimension "d168" = 5
  dimension "d169" = 120
  dimension "d258" = 60
  dimension "d261" = 30
  dimension "d262" = 37
  dimension "d263" = 20
  dimension "d264" = 135
  dimension "d265" = 3.4
  dimension "d266" = 3.4
  dimension "d267" = 10
  dimension "d268" = 10
  dimension "d274" = 5.5
extrude "base" add sketch "Sketch2" against normal blind 12 contours L11 L10 L9 L8 L7 L6 L25 L26 L27 L5 L4 L3 L2 L1 L0
sketch "Sketch13" plane through (0, 0, -12) normal (0, 0, -1) x (-1, 0, 0)
  arc A0 (-10.8212, 45.9423) -> (-11.5712, 45.9423) centre (-11.1962, 50) ccw projected
  line L0 (-10.8212, 45.9423) -> (-10.8212, 37.9423) projected
  line L1 (-11.5712, 37.9423) -> (-11.5712, 45.9423) projected
  line L2 (-10.8212, 37.9423) -> (-11.5712, 37.9423) projected
  arc A1 (109.1788, 45.9423) -> (108.4288, 45.9423) centre (108.8038, 50) ccw projected
  line L3 (109.1788, 45.9423) -> (109.1788, 37.9423) projected
  line L4 (108.4288, 37.9423) -> (108.4288, 45.9423) projected
  line L5 (109.1788, 37.9423) -> (108.4288, 37.9423) projected
  point P0 (0, 0)
extrude "rod_fills" add sketch "Sketch13" against normal blind 2
sketch "Sketch14" plane through (0, 0, 0) normal (0, 0, 1) x (1, 0, 0)
  circle A0 centre (-53.8038, 10) radius 1.7 projected
  line L0 (-50.3397, 10) -> (-52.0718, 7)
  line L1 (-52.0718, 7) -> (-55.5359, 7)
  line L2 (-55.5359, 7) -> (-57.2679, 10)
  line L3 (-57.2679, 10) -> (-55.5359, 13)
  line L4 (-55.5359, 13) -> (-52.0718, 13)
  line L5 (-52.0718, 13) -> (-50.3397, 10)
  circle A1 centre (-43.8038, 10) radius 1.7 projected
  line L6 (-42.0718, 13) -> (-40.3397, 10)
  line L7 (-40.3397, 10) -> (-42.0718, 7)
  line L8 (-42.0718, 7) -> (-45.5359, 7)
  line L9 (-45.5359, 7) -> (-47.2679, 10)
  line L10 (-47.2679, 10) -> (-45.5359, 13)
  line L11 (-45.5359, 13) -> (-42.0718, 13)
  point P0 (0, 0)
  dimension "d270" = 6
  dimension "d271" = 6
extrude "Extrusion10" cut sketch "Sketch14" against normal blind 3 contours A0 | L0 L1 L2 L3 L4 L5 | A1 | L6 L7 L8 L9 L10 L11
chamfer "Chamfer10" distance 1 angle 45 15 edges at (37.4282, 40, -12) (50, 20, -12) (20.5263, 47.5, -12) (11.1962, 55, -12) (4.7528, 52.5, -12) (-2.7472, 50, -12) (-23.8038, 35, -12) (-48.8038, 20, -12) (-61.3605, 35, -12) (-82.4171, 50, -12) (-102.3605, 52.5, -12) (-108.8038, 55, -12) (-116.4019, 50.5, -12) (-119, 31, -12) (-111, 8, -12)
properties part number "_3DPrint"
